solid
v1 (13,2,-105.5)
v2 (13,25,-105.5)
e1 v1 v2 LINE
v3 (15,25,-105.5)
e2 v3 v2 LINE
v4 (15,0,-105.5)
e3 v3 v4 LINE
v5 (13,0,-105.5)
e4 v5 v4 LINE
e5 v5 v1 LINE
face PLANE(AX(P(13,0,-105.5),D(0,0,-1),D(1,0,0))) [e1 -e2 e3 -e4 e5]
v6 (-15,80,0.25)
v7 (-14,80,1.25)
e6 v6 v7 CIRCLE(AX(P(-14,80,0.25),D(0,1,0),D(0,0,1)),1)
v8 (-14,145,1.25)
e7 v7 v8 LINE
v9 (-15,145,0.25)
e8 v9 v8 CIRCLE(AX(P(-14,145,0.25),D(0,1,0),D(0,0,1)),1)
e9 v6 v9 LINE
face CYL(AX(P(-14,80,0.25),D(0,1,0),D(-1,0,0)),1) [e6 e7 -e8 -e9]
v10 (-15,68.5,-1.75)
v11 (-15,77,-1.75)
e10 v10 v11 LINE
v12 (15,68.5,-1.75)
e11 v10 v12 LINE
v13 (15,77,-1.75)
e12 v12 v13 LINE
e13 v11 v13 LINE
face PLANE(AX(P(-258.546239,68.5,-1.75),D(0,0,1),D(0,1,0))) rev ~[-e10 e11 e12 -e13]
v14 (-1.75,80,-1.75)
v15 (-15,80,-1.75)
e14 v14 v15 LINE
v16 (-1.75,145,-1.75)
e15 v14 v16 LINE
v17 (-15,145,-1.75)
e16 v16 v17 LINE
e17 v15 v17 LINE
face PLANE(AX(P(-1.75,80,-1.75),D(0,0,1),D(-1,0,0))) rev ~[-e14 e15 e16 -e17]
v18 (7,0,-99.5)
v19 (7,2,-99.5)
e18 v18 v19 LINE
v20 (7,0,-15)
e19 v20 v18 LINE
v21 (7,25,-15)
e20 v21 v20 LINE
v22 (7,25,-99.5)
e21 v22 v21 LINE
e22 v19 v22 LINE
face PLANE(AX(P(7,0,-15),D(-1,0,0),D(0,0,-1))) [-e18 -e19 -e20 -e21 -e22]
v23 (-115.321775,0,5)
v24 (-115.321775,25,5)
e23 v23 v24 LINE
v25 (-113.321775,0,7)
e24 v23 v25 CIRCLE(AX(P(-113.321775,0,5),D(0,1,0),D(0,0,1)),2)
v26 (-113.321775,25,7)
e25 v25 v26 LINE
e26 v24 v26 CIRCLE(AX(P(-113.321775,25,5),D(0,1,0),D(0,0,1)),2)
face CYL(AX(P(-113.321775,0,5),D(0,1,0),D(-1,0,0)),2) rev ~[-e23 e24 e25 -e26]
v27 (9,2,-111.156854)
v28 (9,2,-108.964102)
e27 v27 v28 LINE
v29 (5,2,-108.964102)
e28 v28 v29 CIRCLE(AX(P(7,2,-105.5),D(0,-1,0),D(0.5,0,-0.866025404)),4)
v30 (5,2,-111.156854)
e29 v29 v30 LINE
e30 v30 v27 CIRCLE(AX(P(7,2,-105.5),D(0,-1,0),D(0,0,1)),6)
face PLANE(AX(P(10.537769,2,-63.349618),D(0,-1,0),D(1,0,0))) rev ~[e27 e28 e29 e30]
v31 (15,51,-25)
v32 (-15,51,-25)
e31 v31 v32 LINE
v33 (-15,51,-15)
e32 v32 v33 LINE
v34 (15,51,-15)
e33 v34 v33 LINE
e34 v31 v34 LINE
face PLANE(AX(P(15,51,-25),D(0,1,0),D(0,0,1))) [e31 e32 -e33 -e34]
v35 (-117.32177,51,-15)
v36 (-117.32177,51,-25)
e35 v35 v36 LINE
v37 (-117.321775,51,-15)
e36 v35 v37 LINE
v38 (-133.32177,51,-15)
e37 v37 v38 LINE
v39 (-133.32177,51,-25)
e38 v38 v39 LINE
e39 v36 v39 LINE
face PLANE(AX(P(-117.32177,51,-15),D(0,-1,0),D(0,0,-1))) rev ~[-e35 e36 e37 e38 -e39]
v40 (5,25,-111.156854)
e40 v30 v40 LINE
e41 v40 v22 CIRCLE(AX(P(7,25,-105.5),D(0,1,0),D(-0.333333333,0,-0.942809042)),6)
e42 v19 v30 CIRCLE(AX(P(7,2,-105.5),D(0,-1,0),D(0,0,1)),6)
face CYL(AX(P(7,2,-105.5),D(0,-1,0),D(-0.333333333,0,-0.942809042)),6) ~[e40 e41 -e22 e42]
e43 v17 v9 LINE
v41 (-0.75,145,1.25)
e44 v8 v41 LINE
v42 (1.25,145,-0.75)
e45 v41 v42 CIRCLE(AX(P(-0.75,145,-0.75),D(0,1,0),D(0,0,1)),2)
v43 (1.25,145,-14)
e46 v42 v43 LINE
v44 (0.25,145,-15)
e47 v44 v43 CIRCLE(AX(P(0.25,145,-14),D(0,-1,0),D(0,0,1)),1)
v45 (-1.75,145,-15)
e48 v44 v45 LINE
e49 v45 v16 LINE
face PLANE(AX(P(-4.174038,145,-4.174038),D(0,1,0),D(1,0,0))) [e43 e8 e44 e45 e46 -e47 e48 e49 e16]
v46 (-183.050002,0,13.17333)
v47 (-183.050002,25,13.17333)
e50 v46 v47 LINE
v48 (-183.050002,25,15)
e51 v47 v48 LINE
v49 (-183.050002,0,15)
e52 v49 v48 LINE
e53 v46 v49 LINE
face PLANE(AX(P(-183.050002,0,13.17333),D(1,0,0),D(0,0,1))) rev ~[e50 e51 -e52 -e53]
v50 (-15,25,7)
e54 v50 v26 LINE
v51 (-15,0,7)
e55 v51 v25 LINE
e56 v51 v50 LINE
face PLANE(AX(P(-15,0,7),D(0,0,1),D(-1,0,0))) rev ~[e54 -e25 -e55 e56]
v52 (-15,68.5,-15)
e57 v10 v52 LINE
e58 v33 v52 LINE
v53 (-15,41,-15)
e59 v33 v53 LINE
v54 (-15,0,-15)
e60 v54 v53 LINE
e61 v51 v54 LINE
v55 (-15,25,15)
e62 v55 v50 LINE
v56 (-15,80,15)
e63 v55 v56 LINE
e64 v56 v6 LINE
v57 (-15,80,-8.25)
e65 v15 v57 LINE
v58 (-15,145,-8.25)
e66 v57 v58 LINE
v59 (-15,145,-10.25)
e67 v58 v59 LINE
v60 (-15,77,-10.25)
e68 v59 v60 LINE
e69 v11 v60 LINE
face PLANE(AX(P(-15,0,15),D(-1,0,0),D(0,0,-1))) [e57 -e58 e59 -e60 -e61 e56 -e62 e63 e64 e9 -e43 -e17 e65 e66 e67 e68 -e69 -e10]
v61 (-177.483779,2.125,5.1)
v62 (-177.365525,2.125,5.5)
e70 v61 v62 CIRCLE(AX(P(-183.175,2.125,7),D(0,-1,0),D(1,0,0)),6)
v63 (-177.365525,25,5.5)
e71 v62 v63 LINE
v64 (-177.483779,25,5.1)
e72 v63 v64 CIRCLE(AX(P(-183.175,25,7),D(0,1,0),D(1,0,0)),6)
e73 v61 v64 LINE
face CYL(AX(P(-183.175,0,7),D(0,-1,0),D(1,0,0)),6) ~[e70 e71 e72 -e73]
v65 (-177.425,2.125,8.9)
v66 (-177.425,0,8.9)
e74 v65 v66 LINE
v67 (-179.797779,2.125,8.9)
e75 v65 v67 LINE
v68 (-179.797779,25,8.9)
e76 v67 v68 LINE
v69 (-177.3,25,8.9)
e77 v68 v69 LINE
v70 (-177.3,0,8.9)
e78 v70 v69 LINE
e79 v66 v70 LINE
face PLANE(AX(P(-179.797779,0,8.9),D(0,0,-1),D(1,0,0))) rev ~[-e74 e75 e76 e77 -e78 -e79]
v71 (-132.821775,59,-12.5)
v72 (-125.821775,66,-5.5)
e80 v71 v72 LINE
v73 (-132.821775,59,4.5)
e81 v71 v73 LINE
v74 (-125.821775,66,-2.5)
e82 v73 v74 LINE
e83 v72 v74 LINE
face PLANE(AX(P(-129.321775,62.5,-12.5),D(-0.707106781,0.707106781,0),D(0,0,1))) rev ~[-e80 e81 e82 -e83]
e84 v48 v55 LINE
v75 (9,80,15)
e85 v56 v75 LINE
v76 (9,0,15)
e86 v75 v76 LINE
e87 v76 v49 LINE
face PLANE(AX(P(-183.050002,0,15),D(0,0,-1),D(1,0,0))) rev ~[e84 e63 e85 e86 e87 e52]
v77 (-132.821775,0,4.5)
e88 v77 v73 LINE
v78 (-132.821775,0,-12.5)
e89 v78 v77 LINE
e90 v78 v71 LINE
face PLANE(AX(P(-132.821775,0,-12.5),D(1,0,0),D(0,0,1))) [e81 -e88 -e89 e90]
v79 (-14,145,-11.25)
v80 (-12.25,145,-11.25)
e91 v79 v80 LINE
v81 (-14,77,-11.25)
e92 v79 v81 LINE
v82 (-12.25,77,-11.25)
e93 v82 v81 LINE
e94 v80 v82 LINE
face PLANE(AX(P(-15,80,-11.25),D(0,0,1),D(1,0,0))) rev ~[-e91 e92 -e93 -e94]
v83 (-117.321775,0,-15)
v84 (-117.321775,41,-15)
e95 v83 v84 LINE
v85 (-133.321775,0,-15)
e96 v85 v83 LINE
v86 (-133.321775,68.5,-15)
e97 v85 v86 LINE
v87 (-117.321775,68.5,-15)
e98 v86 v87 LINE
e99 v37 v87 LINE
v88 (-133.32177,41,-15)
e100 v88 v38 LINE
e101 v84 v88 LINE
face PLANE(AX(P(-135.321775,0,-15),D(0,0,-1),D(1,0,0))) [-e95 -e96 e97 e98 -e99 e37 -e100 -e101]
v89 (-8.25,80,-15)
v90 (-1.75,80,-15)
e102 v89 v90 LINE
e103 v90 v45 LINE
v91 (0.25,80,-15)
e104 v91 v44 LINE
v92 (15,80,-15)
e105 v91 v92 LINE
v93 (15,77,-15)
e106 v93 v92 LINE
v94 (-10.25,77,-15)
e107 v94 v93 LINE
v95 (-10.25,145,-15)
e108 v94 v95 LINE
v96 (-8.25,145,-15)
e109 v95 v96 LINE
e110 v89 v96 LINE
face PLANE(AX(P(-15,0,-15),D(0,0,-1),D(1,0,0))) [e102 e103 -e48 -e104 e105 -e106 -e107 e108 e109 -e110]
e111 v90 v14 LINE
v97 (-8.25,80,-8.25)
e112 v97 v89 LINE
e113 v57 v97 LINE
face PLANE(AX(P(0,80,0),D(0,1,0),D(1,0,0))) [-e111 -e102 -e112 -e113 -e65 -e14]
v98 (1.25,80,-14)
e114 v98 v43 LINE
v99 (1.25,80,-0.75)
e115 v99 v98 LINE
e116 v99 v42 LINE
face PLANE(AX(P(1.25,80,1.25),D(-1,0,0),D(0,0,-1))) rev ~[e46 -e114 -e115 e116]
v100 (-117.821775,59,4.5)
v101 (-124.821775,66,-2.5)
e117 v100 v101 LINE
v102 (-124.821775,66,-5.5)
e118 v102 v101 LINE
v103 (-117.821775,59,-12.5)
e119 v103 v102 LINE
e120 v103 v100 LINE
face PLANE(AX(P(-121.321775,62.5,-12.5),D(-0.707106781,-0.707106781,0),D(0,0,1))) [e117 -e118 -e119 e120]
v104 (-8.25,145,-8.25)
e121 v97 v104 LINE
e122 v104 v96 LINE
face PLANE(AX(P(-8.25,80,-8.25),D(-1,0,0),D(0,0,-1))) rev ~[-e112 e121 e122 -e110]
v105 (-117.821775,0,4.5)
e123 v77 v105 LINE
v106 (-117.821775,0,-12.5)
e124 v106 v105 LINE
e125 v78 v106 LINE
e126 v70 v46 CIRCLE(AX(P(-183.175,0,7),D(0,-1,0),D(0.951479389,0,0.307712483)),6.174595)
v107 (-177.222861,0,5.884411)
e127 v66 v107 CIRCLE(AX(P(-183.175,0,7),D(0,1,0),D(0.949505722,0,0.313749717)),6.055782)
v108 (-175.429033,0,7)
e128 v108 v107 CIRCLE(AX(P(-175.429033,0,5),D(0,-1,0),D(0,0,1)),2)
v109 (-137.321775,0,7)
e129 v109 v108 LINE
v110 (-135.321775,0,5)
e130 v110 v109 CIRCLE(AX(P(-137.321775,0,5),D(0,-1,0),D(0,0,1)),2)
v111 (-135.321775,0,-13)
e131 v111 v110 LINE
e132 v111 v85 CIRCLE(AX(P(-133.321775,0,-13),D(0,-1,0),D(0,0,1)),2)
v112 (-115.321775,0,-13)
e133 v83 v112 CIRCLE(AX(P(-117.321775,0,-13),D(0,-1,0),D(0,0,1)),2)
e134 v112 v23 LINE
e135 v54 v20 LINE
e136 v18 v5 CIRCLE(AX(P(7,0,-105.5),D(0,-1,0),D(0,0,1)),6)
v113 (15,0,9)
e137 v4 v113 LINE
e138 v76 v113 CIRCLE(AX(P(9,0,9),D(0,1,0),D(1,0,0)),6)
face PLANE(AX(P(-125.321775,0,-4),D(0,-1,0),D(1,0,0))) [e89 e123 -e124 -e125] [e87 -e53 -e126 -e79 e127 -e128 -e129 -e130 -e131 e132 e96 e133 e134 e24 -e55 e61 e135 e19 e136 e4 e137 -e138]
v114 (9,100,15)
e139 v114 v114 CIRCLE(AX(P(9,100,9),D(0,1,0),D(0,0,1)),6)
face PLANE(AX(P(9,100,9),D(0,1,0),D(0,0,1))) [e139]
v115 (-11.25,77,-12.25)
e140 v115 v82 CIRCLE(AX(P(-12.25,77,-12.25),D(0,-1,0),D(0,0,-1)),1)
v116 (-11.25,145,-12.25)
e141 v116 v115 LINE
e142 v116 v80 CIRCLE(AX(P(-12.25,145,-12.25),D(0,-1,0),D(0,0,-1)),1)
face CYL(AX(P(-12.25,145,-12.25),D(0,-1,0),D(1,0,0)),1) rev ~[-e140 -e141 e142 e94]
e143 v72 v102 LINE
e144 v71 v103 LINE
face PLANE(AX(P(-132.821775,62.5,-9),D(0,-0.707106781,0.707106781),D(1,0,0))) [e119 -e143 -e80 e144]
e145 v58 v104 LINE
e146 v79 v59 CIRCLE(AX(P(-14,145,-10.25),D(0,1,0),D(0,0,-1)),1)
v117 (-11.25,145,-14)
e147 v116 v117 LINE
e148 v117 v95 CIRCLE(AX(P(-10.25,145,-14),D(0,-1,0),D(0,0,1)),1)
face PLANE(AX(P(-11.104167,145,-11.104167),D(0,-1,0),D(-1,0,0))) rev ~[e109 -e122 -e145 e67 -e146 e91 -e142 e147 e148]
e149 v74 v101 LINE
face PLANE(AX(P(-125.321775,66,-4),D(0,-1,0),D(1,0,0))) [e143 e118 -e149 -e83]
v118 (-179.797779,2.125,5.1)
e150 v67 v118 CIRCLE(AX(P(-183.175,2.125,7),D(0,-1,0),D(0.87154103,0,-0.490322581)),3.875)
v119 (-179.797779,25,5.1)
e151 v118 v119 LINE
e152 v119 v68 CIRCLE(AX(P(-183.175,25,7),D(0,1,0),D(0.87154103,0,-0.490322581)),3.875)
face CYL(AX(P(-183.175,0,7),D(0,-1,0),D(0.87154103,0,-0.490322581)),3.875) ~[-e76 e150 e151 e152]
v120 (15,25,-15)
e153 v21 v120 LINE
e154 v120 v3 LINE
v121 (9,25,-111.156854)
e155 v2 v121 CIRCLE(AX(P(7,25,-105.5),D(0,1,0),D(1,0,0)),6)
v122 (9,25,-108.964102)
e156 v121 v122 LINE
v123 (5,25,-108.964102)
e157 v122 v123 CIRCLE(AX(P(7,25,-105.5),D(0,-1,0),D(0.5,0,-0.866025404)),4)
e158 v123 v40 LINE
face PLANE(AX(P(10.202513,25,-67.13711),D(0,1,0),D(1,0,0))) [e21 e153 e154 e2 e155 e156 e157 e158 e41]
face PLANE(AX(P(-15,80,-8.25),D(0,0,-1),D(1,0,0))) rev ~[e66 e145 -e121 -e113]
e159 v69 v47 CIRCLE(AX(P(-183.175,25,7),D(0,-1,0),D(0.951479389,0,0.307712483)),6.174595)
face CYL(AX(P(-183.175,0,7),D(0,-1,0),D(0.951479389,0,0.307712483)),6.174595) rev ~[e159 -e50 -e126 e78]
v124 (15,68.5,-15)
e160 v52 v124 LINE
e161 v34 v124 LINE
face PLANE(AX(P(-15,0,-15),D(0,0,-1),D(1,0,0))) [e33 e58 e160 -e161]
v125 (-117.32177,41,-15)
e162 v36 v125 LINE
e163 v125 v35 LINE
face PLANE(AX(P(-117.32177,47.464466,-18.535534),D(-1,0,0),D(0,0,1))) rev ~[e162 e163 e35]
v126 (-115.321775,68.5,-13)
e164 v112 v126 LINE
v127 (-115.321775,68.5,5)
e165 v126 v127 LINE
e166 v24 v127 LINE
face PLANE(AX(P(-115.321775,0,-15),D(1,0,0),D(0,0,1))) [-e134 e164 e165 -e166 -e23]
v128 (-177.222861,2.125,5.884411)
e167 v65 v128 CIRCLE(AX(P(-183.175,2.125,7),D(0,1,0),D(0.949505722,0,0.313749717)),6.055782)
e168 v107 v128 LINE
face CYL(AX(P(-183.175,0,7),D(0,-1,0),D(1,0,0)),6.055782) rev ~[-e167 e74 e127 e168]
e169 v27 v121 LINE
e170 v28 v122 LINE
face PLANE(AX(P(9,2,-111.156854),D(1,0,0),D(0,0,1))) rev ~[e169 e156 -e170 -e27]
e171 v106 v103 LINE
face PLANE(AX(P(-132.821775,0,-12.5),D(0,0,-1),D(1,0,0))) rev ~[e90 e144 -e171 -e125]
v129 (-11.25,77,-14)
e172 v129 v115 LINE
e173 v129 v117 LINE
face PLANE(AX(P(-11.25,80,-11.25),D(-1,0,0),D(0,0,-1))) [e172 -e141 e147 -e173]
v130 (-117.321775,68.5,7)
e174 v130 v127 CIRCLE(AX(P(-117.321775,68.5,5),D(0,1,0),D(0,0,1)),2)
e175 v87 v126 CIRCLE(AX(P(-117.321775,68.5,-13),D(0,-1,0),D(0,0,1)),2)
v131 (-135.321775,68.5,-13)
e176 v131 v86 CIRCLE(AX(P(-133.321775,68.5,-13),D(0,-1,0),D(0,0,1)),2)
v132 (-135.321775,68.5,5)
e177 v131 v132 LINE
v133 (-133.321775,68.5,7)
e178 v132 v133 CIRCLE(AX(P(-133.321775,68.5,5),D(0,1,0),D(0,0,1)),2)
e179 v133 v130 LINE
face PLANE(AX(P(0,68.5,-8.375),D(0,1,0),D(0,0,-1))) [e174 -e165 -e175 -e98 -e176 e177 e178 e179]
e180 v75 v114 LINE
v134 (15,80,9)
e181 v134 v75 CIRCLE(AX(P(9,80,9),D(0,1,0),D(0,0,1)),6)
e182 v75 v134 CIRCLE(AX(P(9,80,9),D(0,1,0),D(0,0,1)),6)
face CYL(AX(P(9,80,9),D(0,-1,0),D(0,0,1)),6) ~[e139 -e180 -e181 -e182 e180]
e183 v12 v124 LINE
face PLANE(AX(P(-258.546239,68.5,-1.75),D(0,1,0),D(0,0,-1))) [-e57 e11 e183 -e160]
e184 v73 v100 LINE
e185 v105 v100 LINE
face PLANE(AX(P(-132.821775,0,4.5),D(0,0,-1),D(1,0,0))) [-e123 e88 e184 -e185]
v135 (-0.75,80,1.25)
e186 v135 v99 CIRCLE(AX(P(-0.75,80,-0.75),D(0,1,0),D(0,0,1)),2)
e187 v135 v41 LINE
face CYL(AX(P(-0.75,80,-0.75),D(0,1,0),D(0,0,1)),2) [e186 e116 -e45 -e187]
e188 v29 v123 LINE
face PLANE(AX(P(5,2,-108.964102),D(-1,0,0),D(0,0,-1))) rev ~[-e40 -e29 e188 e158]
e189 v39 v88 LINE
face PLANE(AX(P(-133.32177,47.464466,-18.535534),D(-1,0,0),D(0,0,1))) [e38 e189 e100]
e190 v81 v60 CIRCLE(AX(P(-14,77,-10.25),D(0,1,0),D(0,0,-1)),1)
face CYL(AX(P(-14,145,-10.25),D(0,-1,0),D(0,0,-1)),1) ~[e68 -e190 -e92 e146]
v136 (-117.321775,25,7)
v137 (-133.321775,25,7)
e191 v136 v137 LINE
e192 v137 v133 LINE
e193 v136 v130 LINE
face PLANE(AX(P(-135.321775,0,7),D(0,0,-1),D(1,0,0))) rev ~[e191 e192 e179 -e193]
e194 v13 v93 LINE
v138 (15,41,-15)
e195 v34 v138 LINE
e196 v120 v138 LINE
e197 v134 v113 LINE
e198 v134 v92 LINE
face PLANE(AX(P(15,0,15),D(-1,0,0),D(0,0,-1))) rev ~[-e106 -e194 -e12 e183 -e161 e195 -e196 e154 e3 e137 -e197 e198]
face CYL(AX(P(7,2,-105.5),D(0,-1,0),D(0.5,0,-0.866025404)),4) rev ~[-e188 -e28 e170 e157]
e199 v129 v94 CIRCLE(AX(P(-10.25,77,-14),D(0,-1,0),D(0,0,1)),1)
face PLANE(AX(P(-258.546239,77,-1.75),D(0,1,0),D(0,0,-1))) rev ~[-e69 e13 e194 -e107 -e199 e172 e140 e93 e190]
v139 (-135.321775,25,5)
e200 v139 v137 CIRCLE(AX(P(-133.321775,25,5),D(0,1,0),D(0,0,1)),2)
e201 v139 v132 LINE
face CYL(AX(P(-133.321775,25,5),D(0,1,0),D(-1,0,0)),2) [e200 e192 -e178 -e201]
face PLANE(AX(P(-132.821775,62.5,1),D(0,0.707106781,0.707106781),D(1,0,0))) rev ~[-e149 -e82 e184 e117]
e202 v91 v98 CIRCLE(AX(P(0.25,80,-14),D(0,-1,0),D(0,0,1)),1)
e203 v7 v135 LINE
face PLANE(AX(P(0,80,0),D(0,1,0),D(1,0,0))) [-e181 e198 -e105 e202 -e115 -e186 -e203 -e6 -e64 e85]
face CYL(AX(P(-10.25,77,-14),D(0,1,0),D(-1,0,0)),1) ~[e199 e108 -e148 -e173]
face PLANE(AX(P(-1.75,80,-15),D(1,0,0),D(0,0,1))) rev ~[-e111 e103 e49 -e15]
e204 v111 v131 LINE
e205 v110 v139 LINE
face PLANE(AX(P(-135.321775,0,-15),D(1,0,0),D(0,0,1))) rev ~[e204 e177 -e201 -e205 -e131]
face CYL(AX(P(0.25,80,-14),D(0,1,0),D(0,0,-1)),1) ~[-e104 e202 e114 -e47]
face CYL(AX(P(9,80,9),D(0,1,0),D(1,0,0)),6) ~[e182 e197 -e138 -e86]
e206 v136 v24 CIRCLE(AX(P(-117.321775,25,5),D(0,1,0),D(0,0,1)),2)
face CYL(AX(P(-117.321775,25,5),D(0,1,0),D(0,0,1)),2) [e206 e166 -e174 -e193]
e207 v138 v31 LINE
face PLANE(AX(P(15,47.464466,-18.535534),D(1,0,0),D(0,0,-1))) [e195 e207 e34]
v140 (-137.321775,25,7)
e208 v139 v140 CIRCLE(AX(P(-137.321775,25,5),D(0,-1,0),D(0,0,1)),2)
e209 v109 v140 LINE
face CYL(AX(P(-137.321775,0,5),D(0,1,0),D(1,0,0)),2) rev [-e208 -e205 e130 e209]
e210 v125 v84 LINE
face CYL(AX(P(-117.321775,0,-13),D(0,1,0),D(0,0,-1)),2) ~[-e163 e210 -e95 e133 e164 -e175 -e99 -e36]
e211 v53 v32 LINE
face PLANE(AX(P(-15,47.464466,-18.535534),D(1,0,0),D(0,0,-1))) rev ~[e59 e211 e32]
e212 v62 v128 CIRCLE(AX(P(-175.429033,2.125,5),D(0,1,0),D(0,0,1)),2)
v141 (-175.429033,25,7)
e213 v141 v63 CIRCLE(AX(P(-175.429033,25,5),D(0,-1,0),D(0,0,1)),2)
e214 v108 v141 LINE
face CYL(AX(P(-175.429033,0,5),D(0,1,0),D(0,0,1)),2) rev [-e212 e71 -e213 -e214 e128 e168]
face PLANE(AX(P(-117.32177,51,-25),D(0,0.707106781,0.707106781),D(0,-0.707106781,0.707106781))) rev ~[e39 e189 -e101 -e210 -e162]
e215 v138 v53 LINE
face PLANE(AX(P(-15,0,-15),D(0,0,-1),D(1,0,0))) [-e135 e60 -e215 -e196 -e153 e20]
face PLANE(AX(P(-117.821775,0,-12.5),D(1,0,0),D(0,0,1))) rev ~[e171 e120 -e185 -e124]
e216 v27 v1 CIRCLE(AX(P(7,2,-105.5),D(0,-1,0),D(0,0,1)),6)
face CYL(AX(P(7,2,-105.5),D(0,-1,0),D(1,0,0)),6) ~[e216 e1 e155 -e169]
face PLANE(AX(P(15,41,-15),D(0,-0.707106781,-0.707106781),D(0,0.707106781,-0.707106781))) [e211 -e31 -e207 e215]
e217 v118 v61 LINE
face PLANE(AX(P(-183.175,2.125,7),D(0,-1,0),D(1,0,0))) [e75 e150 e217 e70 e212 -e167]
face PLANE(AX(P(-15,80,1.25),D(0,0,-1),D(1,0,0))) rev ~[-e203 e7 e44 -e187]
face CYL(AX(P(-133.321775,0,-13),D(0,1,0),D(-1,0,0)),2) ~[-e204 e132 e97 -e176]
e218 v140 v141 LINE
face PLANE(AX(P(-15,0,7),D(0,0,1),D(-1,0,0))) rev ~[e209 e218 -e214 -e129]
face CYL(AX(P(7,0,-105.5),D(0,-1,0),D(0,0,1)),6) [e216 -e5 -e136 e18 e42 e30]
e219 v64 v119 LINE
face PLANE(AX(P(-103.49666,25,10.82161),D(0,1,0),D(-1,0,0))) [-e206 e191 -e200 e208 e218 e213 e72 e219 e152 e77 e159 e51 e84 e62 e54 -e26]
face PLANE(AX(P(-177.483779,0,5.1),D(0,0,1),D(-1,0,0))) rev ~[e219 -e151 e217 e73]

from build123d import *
from build123d.topology import SkipClean

# Parameters (mm, degrees)
SKETCH1_W                 = 30
SKETCH1_H                 = 30
BOSS_EXTRUDE1_DEPTH       = 80
SKETCH2_R                 = 6
BOSS_EXTRUDE2_DEPTH       = 20
CUT_EXTRUDE1_DEPTH        = 83.764726786
BOSS_EXTRUDE3_DEPTH       = 65
BOSS_EXTRUDE5_DEPTH       = 2
BOSS_EXTRUDE6_DEPTH       = 23
BOSS_EXTRUDE7_DEPTH       = 25
FILLET1_R                 = 2
SKETCH11_R                = 6.055782361
CUT_EXTRUDE2_DEPTH        = 2.125
CUT_EXTRUDE3_DEPTH        = 273.546239196
CUT_EXTRUDE3_DEPTH_BACK   = 273.546239196
SKETCH12_W                = 13.25
SKETCH12_H                = 8.5
FILLET2_R                 = 2
CUT_EXTRUDE4_REACH        = 233.991
SKETCH15_W                = 3.75
SKETCH15_H                = 3.75
FILLET3_R                 = 1
BOSS_EXTRUDE8_REACH       = 263.62
SKETCH16_W                = 20
SKETCH16_H                = 22
FILLET4_R                 = 2
FILLET5_R                 = 2
SKETCH17_W                = 15
SKETCH17_H                = 17
CUT_EXTRUDE5_DEPTH        = 66
CHAMFER1_SIZE             = 7
BOSS_EXTRUDE9_DEPTH       = 30
BOSS_EXTRUDE10_DEPTH      = 7.999995
BOSS_EXTRUDE10_DEPTH_BACK = 8.000005


with BuildPart() as part:
    # Sketch1 → Boss-Extrude1 (new body)
    with BuildSketch(Plane(origin=(0, 0, 0), x_dir=(1, 0, 0), z_dir=(0, 1, 0))):
        Rectangle(SKETCH1_W, SKETCH1_H)
    extrude(amount=BOSS_EXTRUDE1_DEPTH)

    # Sketch2 → Boss-Extrude2 (add)
    with BuildSketch(Plane(origin=(0, 80, 0), x_dir=(1, 0, 0), z_dir=(0, 1, 0))):
        with Locations(Location((9, -9, 0), (0, 0, 270))):
            Circle(SKETCH2_R)
    extrude(amount=BOSS_EXTRUDE2_DEPTH)

    # Sketch3 → Cut-Extrude1 (cut, through all)
    with BuildSketch(Plane(origin=(0, 80, 0), x_dir=(1, 0, 0), z_dir=(0, 1, 0))):
        with BuildLine():
            Line((9, -15), (15, -15))
            Line((15, -15), (15, -9))
            ThreePointArc((15, -9), (13.242640687, -13.242640687), (9, -15))
        make_face()
    extrude(amount=-CUT_EXTRUDE1_DEPTH, mode=Mode.SUBTRACT)

    # Sketch4 → Boss-Extrude3 (add)
    with BuildSketch(Plane(origin=(0, 80, 0), x_dir=(1, 0, 0), z_dir=(0, 1, 0))):
        Polygon((1.25, 11.25), (1.25, 15), (-1.75, 15), (-1.75, 11.25), (-1.75, 1.75), (-11.25, 1.75), (-15, 1.75), (-15, -1.25), (-11.25, -1.25), (1.25, -1.25), align=None)
        Polygon((-8.25, 11.25), (-8.25, 8.25), (-11.25, 8.25), (-15, 8.25), (-15, 11.25), (-11.25, 11.25), (-11.25, 15), (-8.25, 15), align=None)
    extrude(amount=BOSS_EXTRUDE3_DEPTH)

    # Sketch6 → Boss-Extrude5 (add)
    with BuildSketch(Plane.XZ):
        with BuildLine():
            Line((15, -15), (7, -15))
            Line((7, -15), (7, -99.5))
            ThreePointArc((7, -99.5), (2.757359313, -109.742640687), (13, -105.5))
            Line((13, -105.5), (15, -105.5))
            Line((15, -105.5), (15, -15))
        make_face()
    extrude(amount=-BOSS_EXTRUDE5_DEPTH)

    # Sketch7 → Boss-Extrude6 (add)
    with SkipClean():  # the faces are left unmerged after this step: merging them gives an invalid solid
        with BuildSketch(Plane(origin=(0, 2, 0), x_dir=(1, 0, 0), z_dir=(0, 1, 0))):
            with BuildLine():
                Line((9, 111.156854249), (9, 108.964101615))
                ThreePointArc((9, 108.964101615), (7, 101.5), (5, 108.964101615))
                Line((5, 108.964101615), (5, 111.156854249))
                ThreePointArc((5, 111.156854249), (1.086408642, 104.485388128), (7, 99.5))
                Line((7, 99.5), (7, 15))
                Line((7, 15), (15, 15))
                Line((15, 15), (15, 105.5))
                Line((15, 105.5), (13, 105.5))
                ThreePointArc((13, 105.5), (11.898979486, 108.964101615), (9, 111.156854249))
            make_face()
        extrude(amount=BOSS_EXTRUDE6_DEPTH)

    # Sketch9 → Boss-Extrude7 (add)
    with SkipClean():  # the faces are left unmerged after this step: merging them gives an invalid solid
        with BuildSketch(Plane.XZ):
            with BuildLine():
                Line((-15, 15), (-15, 7))
                Line((-15, 7), (-177.175, 7))
                ThreePointArc((-177.175, 7), (-177.252697751, 6.037536458), (-177.48377869, 5.1))
                Line((-177.48377869, 5.1), (-179.797778509, 5.1))
                ThreePointArc((-179.797778509, 5.1), (-187.05, 7), (-179.797778509, 8.9))
                Line((-179.797778509, 8.9), (-177.3, 8.9))
                ThreePointArc((-177.3, 8.9), (-179.491885554, 11.955834237), (-183.050001601, 13.173329766))
                Line((-183.050001601, 13.173329766), (-183.050001601, 15))
                Line((-183.050001601, 15), (-15, 15))
            make_face()
        extrude(amount=-BOSS_EXTRUDE7_DEPTH)

    # Fillet1
    fillet1_edges = [part.edges().sort_by_distance(p)[0] for p in [
        (-177.175, 12.5, 7),
    ]]
    fillet(fillet1_edges, radius=FILLET1_R)

    # Sketch11 → Cut-Extrude2 (cut)
    with SkipClean():  # the faces are left unmerged after this step: merging them gives an invalid solid
        with BuildSketch(Plane.XZ):
            with Locations((-183.175, 7)):
                Circle(SKETCH11_R)
        extrude(amount=-CUT_EXTRUDE2_DEPTH, mode=Mode.SUBTRACT)

    # Sketch12 → Cut-Extrude3 (cut, two sides: drawn at the far end of the back side and taken through both)
    with SkipClean():  # the faces are left unmerged after this step: merging them gives an invalid solid
        with BuildSketch(Plane(origin=(15, 0, 0), x_dir=(0, 0, -1), z_dir=(1, 0, 0)).offset(-CUT_EXTRUDE3_DEPTH_BACK)):
            with Locations((8.375, 72.75)):
                Rectangle(SKETCH12_W, SKETCH12_H)
        extrude(amount=CUT_EXTRUDE3_DEPTH + CUT_EXTRUDE3_DEPTH_BACK, mode=Mode.SUBTRACT)

    # Fillet2
    fillet2_edges = [part.edges().sort_by_distance(p)[0] for p in [
        (1.25, 112.5, 1.25),
    ]]
    fillet(fillet2_edges, radius=FILLET2_R)

    # Sketch15 → Cut-Extrude4 (cut, up to next)
    with BuildSketch(Plane(origin=(0, 80, 0), x_dir=(1, 0, 0), z_dir=(0, 1, 0)), mode=Mode.PRIVATE) as cut_extrude4_sk1:
        with Locations((-13.125, 13.125)):
            Rectangle(SKETCH15_W, SKETCH15_H)
    cut_extrude4_tool1 = extrude(cut_extrude4_sk1.sketch, amount=-CUT_EXTRUDE4_REACH, mode=Mode.PRIVATE) & part.part
    add(cut_extrude4_tool1.solids().sort_by_distance((-13.125, 80, -13.125))[0], mode=Mode.SUBTRACT)

    # Fillet3
    fillet3_edges = [part.edges().sort_by_distance(p)[0] for p in [
        (-11.25, 112.5, -15),
        (-11.25, 112.5, -11.25),
        (-15, 112.5, -11.25),
        (-15, 112.5, 1.25),
        (1.25, 112.5, -15),
    ]]
    fillet(fillet3_edges, radius=FILLET3_R)

    # Boss-Extrude8: up to this face of the body (flat: up to its plane)
    boss_extrude8_end = Plane(part.part.faces().sort_by_distance((0, 68.5, -8.375))[0])
    # Sketch16 → Boss-Extrude8 (add, up to the picked face)
    with BuildSketch(Plane.XZ, mode=Mode.PRIVATE) as boss_extrude8_sk1:
        with Locations((-125.321774981, -4)):
            Rectangle(SKETCH16_W, SKETCH16_H)
    boss_extrude8_tool1 = split(extrude(boss_extrude8_sk1.sketch, amount=-BOSS_EXTRUDE8_REACH, mode=Mode.PRIVATE), bisect_by=boss_extrude8_end, keep=Keep.BOTH, mode=Mode.PRIVATE)
    add(boss_extrude8_tool1.solids().sort_by(Axis((-125.321775, 0, -4), (0, 1, 0)))[0])

    # Fillet4
    fillet4_edges = [part.edges().sort_by_distance(p)[0] for p in [
        (-115.321774981, 12.5, 7),
        (-115.321774981, 34.25, -15),
        (-135.321774981, 34.25, -15),
        (-135.321774981, 12.5, 7),
    ]]
    fillet(fillet4_edges, radius=FILLET4_R)

    # Fillet5
    fillet5_edges = [part.edges().sort_by_distance(p)[0] for p in [
        (-115.321774981, 46.75, 7),
        (-135.321774981, 46.75, 7),
    ]]
    fillet(fillet5_edges, radius=FILLET5_R)

    # Sketch17 → Cut-Extrude5 (cut)
    with SkipClean():  # the faces are left unmerged after this step: merging them gives an invalid solid
        with BuildSketch(Plane.XZ):
            with Locations((-125.321774981, -4)):
                Rectangle(SKETCH17_W, SKETCH17_H)
        extrude(amount=-CUT_EXTRUDE5_DEPTH, mode=Mode.SUBTRACT)

    # Chamfer1
    chamfer1_edges = [part.edges().sort_by_distance(p)[0] for p in [
        (-132.821774981, 66, -4),
        (-125.321774981, 66, 4.5),
        (-117.821774981, 66, -4),
        (-125.321774981, 66, -12.5),
    ]]
    chamfer(chamfer1_edges, length=CHAMFER1_SIZE)

    # Sketch18 → Boss-Extrude9 (add)
    with SkipClean():  # the faces are left unmerged after this step: merging them gives an invalid solid
        with BuildSketch(Plane(origin=(15, 0, 0), x_dir=(0, 0, -1), z_dir=(1, 0, 0))):
            Polygon((15, 51), (15, 41), (25, 51), align=None)
        extrude(amount=-BOSS_EXTRUDE9_DEPTH)

    # Sketch19 → Boss-Extrude10 (add, two sides: drawn at the far end of the back side and taken through both)
    with SkipClean():  # the faces are left unmerged after this step: merging them gives an invalid solid
        with BuildSketch(Plane.ZY.offset(125.321774981).offset(-BOSS_EXTRUDE10_DEPTH_BACK)):
            Polygon((-15, 41), (-15, 51), (-25, 51), align=None)
        extrude(amount=BOSS_EXTRUDE10_DEPTH + BOSS_EXTRUDE10_DEPTH_BACK)


solid = part.part
